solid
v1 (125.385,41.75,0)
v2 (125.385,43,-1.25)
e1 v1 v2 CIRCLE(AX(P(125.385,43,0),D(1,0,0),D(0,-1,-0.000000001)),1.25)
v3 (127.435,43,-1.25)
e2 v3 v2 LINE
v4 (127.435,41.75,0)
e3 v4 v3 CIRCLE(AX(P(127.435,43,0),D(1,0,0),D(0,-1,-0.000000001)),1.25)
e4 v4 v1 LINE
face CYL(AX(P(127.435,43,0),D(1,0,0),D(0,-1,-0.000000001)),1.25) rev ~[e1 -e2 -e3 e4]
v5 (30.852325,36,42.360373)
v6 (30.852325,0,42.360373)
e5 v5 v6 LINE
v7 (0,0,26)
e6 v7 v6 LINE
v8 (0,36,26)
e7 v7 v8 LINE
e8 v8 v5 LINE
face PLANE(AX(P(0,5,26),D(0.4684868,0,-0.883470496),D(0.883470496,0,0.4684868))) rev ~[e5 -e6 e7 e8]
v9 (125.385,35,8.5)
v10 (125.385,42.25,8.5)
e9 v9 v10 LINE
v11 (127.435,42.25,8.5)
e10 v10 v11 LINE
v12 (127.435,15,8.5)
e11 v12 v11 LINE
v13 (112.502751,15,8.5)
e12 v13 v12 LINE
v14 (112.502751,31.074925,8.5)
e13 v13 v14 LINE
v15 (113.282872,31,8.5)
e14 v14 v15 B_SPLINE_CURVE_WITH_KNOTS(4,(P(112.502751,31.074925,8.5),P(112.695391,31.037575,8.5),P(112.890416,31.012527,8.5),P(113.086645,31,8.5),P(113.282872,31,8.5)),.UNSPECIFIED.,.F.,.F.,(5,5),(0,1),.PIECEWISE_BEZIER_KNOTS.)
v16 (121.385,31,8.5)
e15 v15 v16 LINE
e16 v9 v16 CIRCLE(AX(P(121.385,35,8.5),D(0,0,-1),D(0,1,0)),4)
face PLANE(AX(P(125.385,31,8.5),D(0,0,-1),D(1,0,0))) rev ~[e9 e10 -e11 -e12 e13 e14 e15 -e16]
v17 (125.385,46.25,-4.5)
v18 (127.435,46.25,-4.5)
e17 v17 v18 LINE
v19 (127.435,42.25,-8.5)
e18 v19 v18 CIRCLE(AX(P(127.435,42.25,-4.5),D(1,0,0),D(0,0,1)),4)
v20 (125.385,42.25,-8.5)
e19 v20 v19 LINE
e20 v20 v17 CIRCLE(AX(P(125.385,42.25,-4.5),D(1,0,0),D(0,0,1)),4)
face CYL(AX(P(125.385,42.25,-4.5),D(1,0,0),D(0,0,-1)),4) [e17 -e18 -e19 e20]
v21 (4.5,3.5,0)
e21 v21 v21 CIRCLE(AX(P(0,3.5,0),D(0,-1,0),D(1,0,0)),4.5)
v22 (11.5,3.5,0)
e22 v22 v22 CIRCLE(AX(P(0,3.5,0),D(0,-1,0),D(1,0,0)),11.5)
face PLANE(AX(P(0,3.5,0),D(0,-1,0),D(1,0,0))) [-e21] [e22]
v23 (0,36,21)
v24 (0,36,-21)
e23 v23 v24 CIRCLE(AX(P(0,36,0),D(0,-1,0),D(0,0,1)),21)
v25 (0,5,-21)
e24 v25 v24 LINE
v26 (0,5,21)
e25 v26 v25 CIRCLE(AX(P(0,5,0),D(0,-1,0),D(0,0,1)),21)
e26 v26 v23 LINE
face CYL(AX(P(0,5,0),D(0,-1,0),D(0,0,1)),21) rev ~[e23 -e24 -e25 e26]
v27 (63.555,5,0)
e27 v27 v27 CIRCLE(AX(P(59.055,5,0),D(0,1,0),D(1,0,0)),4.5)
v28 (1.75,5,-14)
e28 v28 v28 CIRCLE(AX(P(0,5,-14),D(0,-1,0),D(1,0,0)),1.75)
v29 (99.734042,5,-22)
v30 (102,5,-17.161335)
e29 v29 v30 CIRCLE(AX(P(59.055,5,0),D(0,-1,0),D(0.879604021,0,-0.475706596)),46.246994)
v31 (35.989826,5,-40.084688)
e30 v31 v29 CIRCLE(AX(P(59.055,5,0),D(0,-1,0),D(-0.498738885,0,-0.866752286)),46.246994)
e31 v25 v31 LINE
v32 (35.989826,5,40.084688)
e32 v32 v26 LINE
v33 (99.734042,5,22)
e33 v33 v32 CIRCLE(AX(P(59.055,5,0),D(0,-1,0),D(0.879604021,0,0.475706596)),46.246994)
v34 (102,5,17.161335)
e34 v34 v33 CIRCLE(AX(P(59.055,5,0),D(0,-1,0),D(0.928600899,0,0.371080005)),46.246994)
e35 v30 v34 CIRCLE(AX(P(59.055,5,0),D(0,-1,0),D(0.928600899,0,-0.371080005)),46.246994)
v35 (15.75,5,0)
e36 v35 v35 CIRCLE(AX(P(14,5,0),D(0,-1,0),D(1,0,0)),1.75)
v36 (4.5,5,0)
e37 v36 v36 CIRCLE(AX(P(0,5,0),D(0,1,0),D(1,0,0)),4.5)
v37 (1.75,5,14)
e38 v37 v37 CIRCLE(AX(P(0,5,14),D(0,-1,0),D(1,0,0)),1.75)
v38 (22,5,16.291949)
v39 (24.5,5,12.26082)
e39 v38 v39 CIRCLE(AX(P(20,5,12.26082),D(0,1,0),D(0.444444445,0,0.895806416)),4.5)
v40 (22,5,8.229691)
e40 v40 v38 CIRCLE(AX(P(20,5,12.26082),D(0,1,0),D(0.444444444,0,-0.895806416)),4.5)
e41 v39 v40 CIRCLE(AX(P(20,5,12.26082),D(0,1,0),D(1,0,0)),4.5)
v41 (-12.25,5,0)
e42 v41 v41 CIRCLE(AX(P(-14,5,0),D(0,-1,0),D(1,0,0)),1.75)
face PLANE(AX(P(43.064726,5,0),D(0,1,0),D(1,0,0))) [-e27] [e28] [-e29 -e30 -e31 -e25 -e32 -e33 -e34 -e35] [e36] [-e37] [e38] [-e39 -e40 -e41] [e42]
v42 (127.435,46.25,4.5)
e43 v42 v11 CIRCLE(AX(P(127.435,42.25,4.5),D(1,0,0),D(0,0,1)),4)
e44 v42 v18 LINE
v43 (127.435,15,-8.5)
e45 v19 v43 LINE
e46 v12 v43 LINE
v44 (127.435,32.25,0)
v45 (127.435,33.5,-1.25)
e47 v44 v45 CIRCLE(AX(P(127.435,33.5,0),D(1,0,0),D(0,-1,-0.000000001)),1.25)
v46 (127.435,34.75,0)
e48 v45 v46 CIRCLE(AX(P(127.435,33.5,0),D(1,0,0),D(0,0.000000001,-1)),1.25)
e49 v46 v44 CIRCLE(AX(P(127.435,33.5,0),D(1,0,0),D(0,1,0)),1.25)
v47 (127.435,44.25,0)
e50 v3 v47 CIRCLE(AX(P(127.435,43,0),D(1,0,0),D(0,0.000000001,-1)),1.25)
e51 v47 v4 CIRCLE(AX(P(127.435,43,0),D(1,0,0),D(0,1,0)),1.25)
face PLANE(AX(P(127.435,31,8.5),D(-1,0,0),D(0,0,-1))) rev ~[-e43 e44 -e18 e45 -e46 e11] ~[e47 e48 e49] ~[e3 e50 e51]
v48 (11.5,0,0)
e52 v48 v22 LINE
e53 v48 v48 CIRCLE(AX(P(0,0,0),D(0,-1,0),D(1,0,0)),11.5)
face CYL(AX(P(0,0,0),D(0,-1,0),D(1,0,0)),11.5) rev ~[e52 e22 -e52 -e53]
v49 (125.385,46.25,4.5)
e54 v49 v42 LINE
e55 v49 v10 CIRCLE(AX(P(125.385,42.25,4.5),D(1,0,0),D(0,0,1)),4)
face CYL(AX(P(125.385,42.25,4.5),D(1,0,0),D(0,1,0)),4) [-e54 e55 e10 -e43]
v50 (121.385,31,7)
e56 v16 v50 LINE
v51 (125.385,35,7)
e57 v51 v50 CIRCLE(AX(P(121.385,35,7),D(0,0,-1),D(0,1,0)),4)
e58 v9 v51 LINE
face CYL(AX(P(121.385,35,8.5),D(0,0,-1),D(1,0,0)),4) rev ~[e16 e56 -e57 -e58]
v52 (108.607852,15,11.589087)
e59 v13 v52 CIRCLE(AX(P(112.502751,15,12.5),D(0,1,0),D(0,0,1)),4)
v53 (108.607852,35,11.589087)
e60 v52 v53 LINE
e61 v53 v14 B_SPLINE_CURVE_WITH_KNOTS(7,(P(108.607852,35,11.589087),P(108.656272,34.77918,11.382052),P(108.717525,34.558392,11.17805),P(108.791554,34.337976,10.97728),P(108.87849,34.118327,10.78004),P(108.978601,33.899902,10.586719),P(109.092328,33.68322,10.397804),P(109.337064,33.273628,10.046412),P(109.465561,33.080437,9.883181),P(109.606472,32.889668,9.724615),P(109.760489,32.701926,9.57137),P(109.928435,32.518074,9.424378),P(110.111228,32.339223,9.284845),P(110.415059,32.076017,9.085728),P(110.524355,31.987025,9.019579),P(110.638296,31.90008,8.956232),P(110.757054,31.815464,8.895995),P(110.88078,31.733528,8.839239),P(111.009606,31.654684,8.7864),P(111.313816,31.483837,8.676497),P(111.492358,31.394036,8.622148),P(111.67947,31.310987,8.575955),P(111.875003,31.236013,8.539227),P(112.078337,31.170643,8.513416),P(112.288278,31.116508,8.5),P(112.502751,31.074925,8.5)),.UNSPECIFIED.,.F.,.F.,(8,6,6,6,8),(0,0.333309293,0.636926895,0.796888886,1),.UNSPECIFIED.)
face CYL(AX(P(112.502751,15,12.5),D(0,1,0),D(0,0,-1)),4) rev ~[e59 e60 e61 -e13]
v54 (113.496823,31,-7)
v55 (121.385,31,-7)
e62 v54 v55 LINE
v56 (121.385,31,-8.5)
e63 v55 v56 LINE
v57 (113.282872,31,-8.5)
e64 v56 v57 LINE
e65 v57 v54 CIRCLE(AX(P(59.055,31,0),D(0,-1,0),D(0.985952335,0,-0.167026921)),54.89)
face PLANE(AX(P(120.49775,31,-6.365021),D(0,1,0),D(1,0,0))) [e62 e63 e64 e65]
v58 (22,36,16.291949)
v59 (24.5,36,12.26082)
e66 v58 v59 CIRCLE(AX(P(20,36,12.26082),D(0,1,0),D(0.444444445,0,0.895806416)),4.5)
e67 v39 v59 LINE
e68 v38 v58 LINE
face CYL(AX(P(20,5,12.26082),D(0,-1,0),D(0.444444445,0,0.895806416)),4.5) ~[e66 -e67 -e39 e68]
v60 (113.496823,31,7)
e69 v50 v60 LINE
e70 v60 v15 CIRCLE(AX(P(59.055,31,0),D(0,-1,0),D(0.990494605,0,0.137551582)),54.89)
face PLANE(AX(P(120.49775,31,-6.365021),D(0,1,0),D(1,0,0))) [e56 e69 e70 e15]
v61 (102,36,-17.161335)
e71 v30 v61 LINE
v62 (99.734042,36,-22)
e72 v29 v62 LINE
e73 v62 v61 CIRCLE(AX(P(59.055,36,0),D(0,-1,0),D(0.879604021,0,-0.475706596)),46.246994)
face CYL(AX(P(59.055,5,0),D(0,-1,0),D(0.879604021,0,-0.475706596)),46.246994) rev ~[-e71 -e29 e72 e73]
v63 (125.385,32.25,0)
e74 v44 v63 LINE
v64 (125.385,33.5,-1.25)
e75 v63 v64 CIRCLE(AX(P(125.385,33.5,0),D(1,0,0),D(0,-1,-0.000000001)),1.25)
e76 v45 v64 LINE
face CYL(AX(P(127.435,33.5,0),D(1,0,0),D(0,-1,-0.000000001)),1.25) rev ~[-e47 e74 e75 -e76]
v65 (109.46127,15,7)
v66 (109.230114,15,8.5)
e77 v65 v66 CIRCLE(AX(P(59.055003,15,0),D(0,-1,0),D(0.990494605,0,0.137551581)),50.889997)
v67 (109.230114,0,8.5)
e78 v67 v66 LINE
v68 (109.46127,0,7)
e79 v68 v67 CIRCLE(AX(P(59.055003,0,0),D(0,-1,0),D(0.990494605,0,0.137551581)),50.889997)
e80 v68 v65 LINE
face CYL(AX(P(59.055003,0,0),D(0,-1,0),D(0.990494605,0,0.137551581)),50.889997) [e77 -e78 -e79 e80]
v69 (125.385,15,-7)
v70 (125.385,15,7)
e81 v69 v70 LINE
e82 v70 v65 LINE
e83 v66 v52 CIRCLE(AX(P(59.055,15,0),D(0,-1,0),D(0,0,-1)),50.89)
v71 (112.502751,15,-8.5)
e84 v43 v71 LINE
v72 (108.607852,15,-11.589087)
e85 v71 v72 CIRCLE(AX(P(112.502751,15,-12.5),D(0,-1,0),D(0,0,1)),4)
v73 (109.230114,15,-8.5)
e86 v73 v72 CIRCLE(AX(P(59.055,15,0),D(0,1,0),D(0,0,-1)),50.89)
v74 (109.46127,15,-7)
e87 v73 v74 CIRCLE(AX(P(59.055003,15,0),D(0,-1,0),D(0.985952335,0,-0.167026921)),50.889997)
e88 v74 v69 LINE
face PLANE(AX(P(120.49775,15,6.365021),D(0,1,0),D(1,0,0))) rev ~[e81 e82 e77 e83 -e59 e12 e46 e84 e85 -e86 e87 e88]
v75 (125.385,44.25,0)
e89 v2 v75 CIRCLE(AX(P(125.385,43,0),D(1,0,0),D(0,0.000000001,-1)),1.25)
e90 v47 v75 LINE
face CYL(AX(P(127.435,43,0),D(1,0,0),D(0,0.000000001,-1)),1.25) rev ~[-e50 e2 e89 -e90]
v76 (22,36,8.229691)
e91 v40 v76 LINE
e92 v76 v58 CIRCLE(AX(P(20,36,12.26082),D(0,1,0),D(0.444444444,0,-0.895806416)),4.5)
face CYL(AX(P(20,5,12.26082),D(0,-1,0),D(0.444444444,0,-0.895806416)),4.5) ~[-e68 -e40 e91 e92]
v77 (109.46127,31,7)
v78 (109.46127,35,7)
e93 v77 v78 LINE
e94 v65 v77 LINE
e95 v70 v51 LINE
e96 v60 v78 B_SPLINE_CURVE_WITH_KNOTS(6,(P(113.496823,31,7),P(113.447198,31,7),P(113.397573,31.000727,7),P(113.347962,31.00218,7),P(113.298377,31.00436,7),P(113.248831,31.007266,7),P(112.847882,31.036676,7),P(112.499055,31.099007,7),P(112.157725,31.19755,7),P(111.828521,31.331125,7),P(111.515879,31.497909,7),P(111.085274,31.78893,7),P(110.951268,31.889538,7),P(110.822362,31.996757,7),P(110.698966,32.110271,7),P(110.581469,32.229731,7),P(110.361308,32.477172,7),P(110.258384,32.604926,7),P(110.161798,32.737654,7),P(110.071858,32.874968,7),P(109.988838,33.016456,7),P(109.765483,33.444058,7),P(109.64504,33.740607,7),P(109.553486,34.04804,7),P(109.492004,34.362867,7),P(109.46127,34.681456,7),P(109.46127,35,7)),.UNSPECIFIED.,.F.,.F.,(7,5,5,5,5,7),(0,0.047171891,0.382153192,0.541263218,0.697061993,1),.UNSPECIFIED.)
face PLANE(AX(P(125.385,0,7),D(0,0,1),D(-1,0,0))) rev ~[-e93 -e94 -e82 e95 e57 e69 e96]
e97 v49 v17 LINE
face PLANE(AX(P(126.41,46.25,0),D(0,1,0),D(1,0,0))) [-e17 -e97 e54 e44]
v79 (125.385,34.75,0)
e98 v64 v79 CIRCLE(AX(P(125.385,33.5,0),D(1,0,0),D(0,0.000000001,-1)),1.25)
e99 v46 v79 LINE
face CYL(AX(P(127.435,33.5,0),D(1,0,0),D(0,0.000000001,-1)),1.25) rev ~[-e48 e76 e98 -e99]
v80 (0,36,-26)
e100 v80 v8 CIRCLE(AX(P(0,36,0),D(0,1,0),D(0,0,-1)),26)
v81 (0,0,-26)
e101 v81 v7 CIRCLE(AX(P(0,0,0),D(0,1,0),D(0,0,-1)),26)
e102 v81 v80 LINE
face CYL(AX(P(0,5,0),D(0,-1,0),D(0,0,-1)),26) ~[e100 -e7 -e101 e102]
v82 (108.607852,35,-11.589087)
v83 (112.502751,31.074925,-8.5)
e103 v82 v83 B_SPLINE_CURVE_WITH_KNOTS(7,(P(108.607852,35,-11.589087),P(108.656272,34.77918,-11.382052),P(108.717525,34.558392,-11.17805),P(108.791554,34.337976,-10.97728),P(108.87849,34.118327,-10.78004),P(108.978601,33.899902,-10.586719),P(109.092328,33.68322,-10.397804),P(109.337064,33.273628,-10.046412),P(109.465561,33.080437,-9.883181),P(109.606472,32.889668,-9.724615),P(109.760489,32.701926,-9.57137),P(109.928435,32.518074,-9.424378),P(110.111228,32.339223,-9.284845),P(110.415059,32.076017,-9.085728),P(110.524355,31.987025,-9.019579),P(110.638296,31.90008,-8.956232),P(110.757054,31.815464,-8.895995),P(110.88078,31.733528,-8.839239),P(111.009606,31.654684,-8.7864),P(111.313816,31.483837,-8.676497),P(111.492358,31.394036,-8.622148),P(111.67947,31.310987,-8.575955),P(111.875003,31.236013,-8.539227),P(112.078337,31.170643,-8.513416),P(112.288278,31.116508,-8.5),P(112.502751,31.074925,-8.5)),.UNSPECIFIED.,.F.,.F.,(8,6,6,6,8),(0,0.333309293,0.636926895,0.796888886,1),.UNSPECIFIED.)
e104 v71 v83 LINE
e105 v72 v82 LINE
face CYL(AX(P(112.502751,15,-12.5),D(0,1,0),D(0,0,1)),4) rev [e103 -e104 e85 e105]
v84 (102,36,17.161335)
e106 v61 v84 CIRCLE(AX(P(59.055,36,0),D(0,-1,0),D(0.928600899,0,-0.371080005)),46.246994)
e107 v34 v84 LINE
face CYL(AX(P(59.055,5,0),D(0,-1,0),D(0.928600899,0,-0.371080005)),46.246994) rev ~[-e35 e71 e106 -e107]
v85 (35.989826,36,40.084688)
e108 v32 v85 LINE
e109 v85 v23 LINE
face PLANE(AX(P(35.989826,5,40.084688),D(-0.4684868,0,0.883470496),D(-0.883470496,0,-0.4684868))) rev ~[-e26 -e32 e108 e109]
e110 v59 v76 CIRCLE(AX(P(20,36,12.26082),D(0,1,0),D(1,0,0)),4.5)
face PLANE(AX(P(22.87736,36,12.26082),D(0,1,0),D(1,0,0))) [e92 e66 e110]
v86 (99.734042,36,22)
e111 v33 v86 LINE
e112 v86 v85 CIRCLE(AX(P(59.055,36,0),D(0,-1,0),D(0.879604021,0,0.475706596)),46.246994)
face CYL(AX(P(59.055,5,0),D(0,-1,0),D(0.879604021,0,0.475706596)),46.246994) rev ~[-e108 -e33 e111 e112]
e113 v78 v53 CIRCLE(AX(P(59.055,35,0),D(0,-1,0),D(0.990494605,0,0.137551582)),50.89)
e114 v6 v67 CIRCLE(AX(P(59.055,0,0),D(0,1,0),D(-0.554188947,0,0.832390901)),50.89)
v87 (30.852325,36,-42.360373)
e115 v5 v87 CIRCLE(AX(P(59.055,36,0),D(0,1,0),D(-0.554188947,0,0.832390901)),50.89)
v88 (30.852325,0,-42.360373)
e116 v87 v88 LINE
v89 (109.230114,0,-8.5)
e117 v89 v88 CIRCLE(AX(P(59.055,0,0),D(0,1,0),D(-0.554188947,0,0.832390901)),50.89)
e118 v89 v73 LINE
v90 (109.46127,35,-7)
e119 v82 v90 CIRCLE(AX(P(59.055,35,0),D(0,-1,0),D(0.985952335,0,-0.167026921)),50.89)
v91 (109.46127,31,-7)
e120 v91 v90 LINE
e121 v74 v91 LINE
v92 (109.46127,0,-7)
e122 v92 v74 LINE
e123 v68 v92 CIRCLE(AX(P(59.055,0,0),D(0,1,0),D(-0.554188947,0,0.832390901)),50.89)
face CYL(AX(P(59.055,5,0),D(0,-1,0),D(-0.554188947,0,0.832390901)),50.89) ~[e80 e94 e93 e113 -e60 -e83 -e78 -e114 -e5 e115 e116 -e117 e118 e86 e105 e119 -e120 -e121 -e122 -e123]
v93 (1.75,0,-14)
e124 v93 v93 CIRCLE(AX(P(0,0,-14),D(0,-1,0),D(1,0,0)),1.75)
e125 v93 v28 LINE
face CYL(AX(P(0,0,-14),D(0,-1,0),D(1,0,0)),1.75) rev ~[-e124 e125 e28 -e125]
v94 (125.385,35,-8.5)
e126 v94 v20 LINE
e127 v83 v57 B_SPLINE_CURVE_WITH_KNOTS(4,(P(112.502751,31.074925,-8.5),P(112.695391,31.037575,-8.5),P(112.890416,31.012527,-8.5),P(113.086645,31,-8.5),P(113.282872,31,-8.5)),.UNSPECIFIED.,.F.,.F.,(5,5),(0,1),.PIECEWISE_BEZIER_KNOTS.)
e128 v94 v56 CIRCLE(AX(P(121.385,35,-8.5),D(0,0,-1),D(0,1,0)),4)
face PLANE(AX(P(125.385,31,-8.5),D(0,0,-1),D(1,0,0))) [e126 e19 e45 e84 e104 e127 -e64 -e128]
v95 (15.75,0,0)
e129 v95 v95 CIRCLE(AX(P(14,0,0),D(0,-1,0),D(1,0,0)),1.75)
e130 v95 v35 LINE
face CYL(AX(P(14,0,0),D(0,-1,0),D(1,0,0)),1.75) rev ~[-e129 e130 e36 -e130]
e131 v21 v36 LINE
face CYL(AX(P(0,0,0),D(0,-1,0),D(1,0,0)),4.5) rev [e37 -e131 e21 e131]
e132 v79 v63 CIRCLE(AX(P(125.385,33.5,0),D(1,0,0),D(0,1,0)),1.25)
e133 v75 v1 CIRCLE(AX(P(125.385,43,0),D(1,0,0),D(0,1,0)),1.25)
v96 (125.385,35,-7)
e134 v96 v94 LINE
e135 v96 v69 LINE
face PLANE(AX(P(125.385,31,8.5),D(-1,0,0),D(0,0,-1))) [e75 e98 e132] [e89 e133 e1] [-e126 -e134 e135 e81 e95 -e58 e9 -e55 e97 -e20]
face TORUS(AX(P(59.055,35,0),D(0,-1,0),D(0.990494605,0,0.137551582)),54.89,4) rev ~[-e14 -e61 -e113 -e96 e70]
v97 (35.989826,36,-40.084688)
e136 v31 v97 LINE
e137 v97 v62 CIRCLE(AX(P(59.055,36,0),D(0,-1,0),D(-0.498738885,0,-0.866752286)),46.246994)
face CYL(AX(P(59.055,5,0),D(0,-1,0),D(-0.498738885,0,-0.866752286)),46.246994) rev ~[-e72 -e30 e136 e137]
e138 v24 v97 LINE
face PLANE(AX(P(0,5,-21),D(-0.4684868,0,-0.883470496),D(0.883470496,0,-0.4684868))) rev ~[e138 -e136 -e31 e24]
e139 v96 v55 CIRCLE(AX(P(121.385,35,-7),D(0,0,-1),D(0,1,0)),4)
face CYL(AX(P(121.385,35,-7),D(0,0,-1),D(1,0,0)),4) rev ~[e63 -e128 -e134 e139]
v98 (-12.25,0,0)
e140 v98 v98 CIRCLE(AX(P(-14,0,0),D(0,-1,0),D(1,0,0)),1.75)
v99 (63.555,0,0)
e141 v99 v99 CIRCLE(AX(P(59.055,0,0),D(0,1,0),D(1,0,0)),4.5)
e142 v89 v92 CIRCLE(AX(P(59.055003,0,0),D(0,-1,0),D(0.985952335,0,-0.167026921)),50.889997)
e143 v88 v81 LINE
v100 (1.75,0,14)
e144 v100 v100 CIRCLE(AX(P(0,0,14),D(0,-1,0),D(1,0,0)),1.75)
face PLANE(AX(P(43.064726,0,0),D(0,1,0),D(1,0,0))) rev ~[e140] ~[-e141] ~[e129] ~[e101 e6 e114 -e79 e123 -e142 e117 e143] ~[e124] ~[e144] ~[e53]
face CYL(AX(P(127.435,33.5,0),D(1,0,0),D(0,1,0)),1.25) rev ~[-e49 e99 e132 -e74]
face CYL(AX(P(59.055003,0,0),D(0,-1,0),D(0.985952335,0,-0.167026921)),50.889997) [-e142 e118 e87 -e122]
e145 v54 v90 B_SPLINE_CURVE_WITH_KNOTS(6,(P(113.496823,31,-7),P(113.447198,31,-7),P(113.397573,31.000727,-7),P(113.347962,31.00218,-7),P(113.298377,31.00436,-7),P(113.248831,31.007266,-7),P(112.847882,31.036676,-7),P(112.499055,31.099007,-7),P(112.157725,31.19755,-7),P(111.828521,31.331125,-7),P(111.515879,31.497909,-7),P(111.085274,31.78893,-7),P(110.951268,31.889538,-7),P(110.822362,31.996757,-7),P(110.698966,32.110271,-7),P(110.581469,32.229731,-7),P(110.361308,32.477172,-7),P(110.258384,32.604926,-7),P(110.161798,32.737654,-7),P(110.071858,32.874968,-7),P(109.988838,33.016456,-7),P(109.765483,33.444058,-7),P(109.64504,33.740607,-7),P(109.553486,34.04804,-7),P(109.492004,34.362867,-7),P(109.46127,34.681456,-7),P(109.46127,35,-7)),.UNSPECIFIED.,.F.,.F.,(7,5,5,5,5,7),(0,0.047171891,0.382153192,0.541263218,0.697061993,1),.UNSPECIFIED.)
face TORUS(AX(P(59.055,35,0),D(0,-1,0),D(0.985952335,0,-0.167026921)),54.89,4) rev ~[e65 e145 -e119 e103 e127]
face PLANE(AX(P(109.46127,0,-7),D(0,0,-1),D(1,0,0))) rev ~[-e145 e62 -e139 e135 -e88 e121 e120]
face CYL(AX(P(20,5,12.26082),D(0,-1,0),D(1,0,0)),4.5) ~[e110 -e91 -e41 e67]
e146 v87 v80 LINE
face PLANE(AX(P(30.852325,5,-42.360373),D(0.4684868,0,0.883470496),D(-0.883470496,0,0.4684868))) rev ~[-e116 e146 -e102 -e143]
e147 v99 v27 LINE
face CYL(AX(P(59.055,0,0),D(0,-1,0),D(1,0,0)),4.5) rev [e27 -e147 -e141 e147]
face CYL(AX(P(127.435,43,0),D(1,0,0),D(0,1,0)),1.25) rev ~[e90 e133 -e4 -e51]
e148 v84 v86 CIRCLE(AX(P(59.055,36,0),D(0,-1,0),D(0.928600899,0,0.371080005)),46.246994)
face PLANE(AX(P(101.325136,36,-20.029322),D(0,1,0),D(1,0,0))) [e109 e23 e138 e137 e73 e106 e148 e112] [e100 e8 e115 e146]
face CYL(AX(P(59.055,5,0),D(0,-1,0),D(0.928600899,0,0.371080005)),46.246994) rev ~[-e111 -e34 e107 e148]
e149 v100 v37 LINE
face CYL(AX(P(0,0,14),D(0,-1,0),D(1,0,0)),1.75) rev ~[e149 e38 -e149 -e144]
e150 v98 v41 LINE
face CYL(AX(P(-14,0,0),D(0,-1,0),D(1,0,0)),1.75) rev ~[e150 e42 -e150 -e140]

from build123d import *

# Parameters (mm, degrees)
SKETCH2_R           = 4.5
BOSS_EXTRUDE1_DEPTH = 5
BOSS_EXTRUDE4_DEPTH = 31
BOSS_EXTRUDE5_DEPTH = 31
BOSS_EXTRUDE6_DEPTH = 31
SKETCH5_W           = 2.05
SKETCH5_H           = 17
BOSS_EXTRUDE7_DEPTH = 15.25
CUT_EXTRUDE3_DEPTH  = 5
CUT_EXTRUDE4_DEPTH  = 15
FILLET2_R           = 4
SKETCH8_R           = 1.75
CUT_EXTRUDE5_DEPTH  = 10
SKETCH8_3_R         = 11.5
SKETCH8_3_R_2       = 4.5
CUT_EXTRUDE6_DEPTH  = 3.5
BOSS_EXTRUDE8_DEPTH = 31


with BuildPart() as part:
    # Sketch2 → Boss-Extrude1 (new body)
    with BuildSketch(Plane(origin=(0, 0, 0), x_dir=(1, 0, 0), z_dir=(0, 1, 0))):
        with BuildLine():
            Line((30.852324511, 42.360372936), (0, 26))
            ThreePointArc((0, 26), (-26, 0), (0, -26))
            Line((0, -26), (30.852324511, -42.360372936))
            ThreePointArc((30.852324511, -42.360372936), (109.945, 0), (30.852324511, 42.360372936))
        make_face()
        Circle(SKETCH2_R, mode=Mode.SUBTRACT)
        with Locations((59.055, 0)):
            Circle(SKETCH2_R, mode=Mode.SUBTRACT)
    extrude(amount=BOSS_EXTRUDE1_DEPTH)

    # Sketch3 → Boss-Extrude4 (add)
    with BuildSketch(Plane(origin=(0, 5, 0), x_dir=(1, 0, 0), z_dir=(0, 1, 0))):
        with BuildLine():
            Line((30.852324511, 42.360372936), (0, 26))
            ThreePointArc((0, 26), (-26, 0), (0, -26))
            Line((0, -26), (30.852324511, -42.360372936))
            ThreePointArc((30.852324511, -42.360372936), (109.945, 0), (30.852324511, 42.360372936))
        make_face()
        with BuildLine():
            ThreePointArc((0, -21), (-21, 0), (0, 21))
            Line((0, 21), (35.989825914, 40.084687562))
            ThreePointArc((35.989825914, 40.084687562), (71.67744287, 44.491104375), (99.734041687, 22))
            Line((99.734041687, 22), (102, 22))
            Line((102, 22), (102, 17.161334667))
            ThreePointArc((102, 17.161334667), (105.301993768, 0), (102, -17.161334667))
            Line((102, -17.161334667), (102, -22))
            Line((102, -22), (99.734041687, -22))
            ThreePointArc((99.734041687, -22), (71.67744287, -44.491104375), (35.989825914, -40.084687562))
            Line((35.989825914, -40.084687562), (0, -21))
        make_face(mode=Mode.SUBTRACT)
    extrude(amount=BOSS_EXTRUDE4_DEPTH)

    # Sketch3<10> → Boss-Extrude5 (add)
    with BuildSketch(Plane(origin=(0, 5, 0), x_dir=(1, 0, 0), z_dir=(0, 1, 0))):
        with BuildLine():
            Line((102, 22), (99.734041687, 22))
            ThreePointArc((99.734041687, 22), (100.936956229, 19.613418238), (102, 17.161334667))
            Line((102, 17.161334667), (102, 22))
        make_face()
        with BuildLine():
            ThreePointArc((102, -17.161334667), (100.936956229, -19.613418238), (99.734041687, -22))
            Line((99.734041687, -22), (102, -22))
            Line((102, -22), (102, -17.161334667))
        make_face()
    extrude(amount=BOSS_EXTRUDE5_DEPTH)

    # Sketch2<6> → Boss-Extrude6 (add)
    with BuildSketch(Plane(origin=(0, 0, 0), x_dir=(1, 0, 0), z_dir=(0, 1, 0))):
        with BuildLine():
            Line((127.435, 8.5), (109.23011435, 8.5))
            ThreePointArc((109.23011435, 8.5), (109.351284572, 7.750861777), (109.461270443, 7))
            Line((109.461270443, 7), (125.385, 7))
            Line((125.385, 7), (125.385, 0))
            Line((125.385, 0), (127.435, 0))
            Line((127.435, 0), (127.435, 8.5))
        make_face()
        with BuildLine():
            Line((127.435, -8.5), (127.435, 0))
            Line((127.435, 0), (125.385, 0))
            Line((125.385, 0), (125.385, -7))
            Line((125.385, -7), (109.461270443, -7))
            ThreePointArc((109.461270443, -7), (109.351284572, -7.750861777), (109.23011435, -8.5))
            Line((109.23011435, -8.5), (127.435, -8.5))
        make_face()
    extrude(amount=BOSS_EXTRUDE6_DEPTH)

    # Sketch5 → Boss-Extrude7 (add)
    with BuildSketch(Plane(origin=(0, 31, 0), x_dir=(1, 0, 0), z_dir=(0, 1, 0))):
        with Locations((126.41, 0)):
            Rectangle(SKETCH5_W, SKETCH5_H)
    extrude(amount=BOSS_EXTRUDE7_DEPTH)

    # Sketch6 → Cut-Extrude3 (cut)
    with BuildSketch(Plane(origin=(127.435, 0, 0), x_dir=(0, 0, -1), z_dir=(1, 0, 0))):
        with BuildLine():
            ThreePointArc((1.25, 43), (0.883883476, 43.883883476), (0, 44.25))
            Line((0, 44.25), (0, 41.75))
            ThreePointArc((0, 41.75), (0.883883476, 42.116116524), (1.25, 43))
        make_face()
        with BuildLine():
            Line((0, 41.75), (0, 44.25))
            ThreePointArc((0, 44.25), (-1.25, 43), (0, 41.75))
        make_face()
        with BuildLine():
            ThreePointArc((1.25, 33.5), (0.883883476, 34.383883476), (0, 34.75))
            Line((0, 34.75), (0, 32.25))
            ThreePointArc((0, 32.25), (0.883883476, 32.616116524), (1.25, 33.5))
        make_face()
        with BuildLine():
            Line((0, 32.25), (0, 34.75))
            ThreePointArc((0, 34.75), (-1.25, 33.5), (0, 32.25))
        make_face()
    extrude(amount=-CUT_EXTRUDE3_DEPTH, mode=Mode.SUBTRACT)

    # Sketch2<7> → Cut-Extrude4 (cut)
    with BuildSketch(Plane(origin=(0, 0, 0), x_dir=(1, 0, 0), z_dir=(0, 1, 0))):
        with BuildLine():
            Line((127.435, -8.5), (127.435, 0))
            Line((127.435, 0), (125.385, 0))
            Line((125.385, 0), (125.385, -7))
            Line((125.385, -7), (109.461270443, -7))
            ThreePointArc((109.461270443, -7), (109.351284572, -7.750861777), (109.23011435, -8.5))
            Line((109.23011435, -8.5), (127.435, -8.5))
        make_face()
        with BuildLine():
            Line((127.435, 8.5), (109.23011435, 8.5))
            ThreePointArc((109.23011435, 8.5), (109.351284572, 7.750861777), (109.461270443, 7))
            Line((109.461270443, 7), (125.385, 7))
            Line((125.385, 7), (125.385, 0))
            Line((125.385, 0), (127.435, 0))
            Line((127.435, 0), (127.435, 8.5))
        make_face()
    extrude(amount=CUT_EXTRUDE4_DEPTH, mode=Mode.SUBTRACT)

    # Fillet2
    fillet2_edges = [part.edges().sort_by_distance(p)[0] for p in [
        (125.385, 31, 7.75),
        (125.385, 31, -7.75),
        (126.41, 46.25, -8.5),
        (126.41, 46.25, 8.5),
        (109.351284572, 31, -7.750861777),
        (109.23011435, 23, -8.5),
        (109.351284572, 31, 7.750861777),
        (109.23011435, 23, 8.5),
    ]]
    fillet(fillet2_edges, radius=FILLET2_R)

    # Sketch8 → Cut-Extrude5 (cut)
    with BuildSketch(Plane.XZ):
        with Locations((0, 14)):
            Circle(SKETCH8_R)
        with Locations((14, 0)):
            Circle(SKETCH8_R)
        with Locations((0, -14)):
            Circle(SKETCH8_R)
        with Locations((-14, 0)):
            Circle(SKETCH8_R)
    extrude(amount=-CUT_EXTRUDE5_DEPTH, mode=Mode.SUBTRACT)

    # Sketch8<3> → Cut-Extrude6 (cut)
    with BuildSketch(Plane.XZ):
        Circle(SKETCH8_3_R)
        Circle(SKETCH8_3_R_2, mode=Mode.SUBTRACT)
    extrude(amount=-CUT_EXTRUDE6_DEPTH, mode=Mode.SUBTRACT)

    # Sketch3<13> → Boss-Extrude8 (add)
    with BuildSketch(Plane(origin=(0, 5, 0), x_dir=(1, 0, 0), z_dir=(0, 1, 0))):
        with BuildLine():
            ThreePointArc((24.5, -12.260820261), (23.824264635, -9.889112016), (22, -8.229691387))
            Line((22, -8.229691387), (22, -16.291949135))
            ThreePointArc((22, -16.291949135), (23.824264635, -14.632528506), (24.5, -12.260820261))
        make_face()
        with BuildLine():
            Line((22, -16.291949135), (22, -8.229691387))
            ThreePointArc((22, -8.229691387), (15.5, -12.260820261), (22, -16.291949135))
        make_face()
    extrude(amount=BOSS_EXTRUDE8_DEPTH)


solid = part.part
